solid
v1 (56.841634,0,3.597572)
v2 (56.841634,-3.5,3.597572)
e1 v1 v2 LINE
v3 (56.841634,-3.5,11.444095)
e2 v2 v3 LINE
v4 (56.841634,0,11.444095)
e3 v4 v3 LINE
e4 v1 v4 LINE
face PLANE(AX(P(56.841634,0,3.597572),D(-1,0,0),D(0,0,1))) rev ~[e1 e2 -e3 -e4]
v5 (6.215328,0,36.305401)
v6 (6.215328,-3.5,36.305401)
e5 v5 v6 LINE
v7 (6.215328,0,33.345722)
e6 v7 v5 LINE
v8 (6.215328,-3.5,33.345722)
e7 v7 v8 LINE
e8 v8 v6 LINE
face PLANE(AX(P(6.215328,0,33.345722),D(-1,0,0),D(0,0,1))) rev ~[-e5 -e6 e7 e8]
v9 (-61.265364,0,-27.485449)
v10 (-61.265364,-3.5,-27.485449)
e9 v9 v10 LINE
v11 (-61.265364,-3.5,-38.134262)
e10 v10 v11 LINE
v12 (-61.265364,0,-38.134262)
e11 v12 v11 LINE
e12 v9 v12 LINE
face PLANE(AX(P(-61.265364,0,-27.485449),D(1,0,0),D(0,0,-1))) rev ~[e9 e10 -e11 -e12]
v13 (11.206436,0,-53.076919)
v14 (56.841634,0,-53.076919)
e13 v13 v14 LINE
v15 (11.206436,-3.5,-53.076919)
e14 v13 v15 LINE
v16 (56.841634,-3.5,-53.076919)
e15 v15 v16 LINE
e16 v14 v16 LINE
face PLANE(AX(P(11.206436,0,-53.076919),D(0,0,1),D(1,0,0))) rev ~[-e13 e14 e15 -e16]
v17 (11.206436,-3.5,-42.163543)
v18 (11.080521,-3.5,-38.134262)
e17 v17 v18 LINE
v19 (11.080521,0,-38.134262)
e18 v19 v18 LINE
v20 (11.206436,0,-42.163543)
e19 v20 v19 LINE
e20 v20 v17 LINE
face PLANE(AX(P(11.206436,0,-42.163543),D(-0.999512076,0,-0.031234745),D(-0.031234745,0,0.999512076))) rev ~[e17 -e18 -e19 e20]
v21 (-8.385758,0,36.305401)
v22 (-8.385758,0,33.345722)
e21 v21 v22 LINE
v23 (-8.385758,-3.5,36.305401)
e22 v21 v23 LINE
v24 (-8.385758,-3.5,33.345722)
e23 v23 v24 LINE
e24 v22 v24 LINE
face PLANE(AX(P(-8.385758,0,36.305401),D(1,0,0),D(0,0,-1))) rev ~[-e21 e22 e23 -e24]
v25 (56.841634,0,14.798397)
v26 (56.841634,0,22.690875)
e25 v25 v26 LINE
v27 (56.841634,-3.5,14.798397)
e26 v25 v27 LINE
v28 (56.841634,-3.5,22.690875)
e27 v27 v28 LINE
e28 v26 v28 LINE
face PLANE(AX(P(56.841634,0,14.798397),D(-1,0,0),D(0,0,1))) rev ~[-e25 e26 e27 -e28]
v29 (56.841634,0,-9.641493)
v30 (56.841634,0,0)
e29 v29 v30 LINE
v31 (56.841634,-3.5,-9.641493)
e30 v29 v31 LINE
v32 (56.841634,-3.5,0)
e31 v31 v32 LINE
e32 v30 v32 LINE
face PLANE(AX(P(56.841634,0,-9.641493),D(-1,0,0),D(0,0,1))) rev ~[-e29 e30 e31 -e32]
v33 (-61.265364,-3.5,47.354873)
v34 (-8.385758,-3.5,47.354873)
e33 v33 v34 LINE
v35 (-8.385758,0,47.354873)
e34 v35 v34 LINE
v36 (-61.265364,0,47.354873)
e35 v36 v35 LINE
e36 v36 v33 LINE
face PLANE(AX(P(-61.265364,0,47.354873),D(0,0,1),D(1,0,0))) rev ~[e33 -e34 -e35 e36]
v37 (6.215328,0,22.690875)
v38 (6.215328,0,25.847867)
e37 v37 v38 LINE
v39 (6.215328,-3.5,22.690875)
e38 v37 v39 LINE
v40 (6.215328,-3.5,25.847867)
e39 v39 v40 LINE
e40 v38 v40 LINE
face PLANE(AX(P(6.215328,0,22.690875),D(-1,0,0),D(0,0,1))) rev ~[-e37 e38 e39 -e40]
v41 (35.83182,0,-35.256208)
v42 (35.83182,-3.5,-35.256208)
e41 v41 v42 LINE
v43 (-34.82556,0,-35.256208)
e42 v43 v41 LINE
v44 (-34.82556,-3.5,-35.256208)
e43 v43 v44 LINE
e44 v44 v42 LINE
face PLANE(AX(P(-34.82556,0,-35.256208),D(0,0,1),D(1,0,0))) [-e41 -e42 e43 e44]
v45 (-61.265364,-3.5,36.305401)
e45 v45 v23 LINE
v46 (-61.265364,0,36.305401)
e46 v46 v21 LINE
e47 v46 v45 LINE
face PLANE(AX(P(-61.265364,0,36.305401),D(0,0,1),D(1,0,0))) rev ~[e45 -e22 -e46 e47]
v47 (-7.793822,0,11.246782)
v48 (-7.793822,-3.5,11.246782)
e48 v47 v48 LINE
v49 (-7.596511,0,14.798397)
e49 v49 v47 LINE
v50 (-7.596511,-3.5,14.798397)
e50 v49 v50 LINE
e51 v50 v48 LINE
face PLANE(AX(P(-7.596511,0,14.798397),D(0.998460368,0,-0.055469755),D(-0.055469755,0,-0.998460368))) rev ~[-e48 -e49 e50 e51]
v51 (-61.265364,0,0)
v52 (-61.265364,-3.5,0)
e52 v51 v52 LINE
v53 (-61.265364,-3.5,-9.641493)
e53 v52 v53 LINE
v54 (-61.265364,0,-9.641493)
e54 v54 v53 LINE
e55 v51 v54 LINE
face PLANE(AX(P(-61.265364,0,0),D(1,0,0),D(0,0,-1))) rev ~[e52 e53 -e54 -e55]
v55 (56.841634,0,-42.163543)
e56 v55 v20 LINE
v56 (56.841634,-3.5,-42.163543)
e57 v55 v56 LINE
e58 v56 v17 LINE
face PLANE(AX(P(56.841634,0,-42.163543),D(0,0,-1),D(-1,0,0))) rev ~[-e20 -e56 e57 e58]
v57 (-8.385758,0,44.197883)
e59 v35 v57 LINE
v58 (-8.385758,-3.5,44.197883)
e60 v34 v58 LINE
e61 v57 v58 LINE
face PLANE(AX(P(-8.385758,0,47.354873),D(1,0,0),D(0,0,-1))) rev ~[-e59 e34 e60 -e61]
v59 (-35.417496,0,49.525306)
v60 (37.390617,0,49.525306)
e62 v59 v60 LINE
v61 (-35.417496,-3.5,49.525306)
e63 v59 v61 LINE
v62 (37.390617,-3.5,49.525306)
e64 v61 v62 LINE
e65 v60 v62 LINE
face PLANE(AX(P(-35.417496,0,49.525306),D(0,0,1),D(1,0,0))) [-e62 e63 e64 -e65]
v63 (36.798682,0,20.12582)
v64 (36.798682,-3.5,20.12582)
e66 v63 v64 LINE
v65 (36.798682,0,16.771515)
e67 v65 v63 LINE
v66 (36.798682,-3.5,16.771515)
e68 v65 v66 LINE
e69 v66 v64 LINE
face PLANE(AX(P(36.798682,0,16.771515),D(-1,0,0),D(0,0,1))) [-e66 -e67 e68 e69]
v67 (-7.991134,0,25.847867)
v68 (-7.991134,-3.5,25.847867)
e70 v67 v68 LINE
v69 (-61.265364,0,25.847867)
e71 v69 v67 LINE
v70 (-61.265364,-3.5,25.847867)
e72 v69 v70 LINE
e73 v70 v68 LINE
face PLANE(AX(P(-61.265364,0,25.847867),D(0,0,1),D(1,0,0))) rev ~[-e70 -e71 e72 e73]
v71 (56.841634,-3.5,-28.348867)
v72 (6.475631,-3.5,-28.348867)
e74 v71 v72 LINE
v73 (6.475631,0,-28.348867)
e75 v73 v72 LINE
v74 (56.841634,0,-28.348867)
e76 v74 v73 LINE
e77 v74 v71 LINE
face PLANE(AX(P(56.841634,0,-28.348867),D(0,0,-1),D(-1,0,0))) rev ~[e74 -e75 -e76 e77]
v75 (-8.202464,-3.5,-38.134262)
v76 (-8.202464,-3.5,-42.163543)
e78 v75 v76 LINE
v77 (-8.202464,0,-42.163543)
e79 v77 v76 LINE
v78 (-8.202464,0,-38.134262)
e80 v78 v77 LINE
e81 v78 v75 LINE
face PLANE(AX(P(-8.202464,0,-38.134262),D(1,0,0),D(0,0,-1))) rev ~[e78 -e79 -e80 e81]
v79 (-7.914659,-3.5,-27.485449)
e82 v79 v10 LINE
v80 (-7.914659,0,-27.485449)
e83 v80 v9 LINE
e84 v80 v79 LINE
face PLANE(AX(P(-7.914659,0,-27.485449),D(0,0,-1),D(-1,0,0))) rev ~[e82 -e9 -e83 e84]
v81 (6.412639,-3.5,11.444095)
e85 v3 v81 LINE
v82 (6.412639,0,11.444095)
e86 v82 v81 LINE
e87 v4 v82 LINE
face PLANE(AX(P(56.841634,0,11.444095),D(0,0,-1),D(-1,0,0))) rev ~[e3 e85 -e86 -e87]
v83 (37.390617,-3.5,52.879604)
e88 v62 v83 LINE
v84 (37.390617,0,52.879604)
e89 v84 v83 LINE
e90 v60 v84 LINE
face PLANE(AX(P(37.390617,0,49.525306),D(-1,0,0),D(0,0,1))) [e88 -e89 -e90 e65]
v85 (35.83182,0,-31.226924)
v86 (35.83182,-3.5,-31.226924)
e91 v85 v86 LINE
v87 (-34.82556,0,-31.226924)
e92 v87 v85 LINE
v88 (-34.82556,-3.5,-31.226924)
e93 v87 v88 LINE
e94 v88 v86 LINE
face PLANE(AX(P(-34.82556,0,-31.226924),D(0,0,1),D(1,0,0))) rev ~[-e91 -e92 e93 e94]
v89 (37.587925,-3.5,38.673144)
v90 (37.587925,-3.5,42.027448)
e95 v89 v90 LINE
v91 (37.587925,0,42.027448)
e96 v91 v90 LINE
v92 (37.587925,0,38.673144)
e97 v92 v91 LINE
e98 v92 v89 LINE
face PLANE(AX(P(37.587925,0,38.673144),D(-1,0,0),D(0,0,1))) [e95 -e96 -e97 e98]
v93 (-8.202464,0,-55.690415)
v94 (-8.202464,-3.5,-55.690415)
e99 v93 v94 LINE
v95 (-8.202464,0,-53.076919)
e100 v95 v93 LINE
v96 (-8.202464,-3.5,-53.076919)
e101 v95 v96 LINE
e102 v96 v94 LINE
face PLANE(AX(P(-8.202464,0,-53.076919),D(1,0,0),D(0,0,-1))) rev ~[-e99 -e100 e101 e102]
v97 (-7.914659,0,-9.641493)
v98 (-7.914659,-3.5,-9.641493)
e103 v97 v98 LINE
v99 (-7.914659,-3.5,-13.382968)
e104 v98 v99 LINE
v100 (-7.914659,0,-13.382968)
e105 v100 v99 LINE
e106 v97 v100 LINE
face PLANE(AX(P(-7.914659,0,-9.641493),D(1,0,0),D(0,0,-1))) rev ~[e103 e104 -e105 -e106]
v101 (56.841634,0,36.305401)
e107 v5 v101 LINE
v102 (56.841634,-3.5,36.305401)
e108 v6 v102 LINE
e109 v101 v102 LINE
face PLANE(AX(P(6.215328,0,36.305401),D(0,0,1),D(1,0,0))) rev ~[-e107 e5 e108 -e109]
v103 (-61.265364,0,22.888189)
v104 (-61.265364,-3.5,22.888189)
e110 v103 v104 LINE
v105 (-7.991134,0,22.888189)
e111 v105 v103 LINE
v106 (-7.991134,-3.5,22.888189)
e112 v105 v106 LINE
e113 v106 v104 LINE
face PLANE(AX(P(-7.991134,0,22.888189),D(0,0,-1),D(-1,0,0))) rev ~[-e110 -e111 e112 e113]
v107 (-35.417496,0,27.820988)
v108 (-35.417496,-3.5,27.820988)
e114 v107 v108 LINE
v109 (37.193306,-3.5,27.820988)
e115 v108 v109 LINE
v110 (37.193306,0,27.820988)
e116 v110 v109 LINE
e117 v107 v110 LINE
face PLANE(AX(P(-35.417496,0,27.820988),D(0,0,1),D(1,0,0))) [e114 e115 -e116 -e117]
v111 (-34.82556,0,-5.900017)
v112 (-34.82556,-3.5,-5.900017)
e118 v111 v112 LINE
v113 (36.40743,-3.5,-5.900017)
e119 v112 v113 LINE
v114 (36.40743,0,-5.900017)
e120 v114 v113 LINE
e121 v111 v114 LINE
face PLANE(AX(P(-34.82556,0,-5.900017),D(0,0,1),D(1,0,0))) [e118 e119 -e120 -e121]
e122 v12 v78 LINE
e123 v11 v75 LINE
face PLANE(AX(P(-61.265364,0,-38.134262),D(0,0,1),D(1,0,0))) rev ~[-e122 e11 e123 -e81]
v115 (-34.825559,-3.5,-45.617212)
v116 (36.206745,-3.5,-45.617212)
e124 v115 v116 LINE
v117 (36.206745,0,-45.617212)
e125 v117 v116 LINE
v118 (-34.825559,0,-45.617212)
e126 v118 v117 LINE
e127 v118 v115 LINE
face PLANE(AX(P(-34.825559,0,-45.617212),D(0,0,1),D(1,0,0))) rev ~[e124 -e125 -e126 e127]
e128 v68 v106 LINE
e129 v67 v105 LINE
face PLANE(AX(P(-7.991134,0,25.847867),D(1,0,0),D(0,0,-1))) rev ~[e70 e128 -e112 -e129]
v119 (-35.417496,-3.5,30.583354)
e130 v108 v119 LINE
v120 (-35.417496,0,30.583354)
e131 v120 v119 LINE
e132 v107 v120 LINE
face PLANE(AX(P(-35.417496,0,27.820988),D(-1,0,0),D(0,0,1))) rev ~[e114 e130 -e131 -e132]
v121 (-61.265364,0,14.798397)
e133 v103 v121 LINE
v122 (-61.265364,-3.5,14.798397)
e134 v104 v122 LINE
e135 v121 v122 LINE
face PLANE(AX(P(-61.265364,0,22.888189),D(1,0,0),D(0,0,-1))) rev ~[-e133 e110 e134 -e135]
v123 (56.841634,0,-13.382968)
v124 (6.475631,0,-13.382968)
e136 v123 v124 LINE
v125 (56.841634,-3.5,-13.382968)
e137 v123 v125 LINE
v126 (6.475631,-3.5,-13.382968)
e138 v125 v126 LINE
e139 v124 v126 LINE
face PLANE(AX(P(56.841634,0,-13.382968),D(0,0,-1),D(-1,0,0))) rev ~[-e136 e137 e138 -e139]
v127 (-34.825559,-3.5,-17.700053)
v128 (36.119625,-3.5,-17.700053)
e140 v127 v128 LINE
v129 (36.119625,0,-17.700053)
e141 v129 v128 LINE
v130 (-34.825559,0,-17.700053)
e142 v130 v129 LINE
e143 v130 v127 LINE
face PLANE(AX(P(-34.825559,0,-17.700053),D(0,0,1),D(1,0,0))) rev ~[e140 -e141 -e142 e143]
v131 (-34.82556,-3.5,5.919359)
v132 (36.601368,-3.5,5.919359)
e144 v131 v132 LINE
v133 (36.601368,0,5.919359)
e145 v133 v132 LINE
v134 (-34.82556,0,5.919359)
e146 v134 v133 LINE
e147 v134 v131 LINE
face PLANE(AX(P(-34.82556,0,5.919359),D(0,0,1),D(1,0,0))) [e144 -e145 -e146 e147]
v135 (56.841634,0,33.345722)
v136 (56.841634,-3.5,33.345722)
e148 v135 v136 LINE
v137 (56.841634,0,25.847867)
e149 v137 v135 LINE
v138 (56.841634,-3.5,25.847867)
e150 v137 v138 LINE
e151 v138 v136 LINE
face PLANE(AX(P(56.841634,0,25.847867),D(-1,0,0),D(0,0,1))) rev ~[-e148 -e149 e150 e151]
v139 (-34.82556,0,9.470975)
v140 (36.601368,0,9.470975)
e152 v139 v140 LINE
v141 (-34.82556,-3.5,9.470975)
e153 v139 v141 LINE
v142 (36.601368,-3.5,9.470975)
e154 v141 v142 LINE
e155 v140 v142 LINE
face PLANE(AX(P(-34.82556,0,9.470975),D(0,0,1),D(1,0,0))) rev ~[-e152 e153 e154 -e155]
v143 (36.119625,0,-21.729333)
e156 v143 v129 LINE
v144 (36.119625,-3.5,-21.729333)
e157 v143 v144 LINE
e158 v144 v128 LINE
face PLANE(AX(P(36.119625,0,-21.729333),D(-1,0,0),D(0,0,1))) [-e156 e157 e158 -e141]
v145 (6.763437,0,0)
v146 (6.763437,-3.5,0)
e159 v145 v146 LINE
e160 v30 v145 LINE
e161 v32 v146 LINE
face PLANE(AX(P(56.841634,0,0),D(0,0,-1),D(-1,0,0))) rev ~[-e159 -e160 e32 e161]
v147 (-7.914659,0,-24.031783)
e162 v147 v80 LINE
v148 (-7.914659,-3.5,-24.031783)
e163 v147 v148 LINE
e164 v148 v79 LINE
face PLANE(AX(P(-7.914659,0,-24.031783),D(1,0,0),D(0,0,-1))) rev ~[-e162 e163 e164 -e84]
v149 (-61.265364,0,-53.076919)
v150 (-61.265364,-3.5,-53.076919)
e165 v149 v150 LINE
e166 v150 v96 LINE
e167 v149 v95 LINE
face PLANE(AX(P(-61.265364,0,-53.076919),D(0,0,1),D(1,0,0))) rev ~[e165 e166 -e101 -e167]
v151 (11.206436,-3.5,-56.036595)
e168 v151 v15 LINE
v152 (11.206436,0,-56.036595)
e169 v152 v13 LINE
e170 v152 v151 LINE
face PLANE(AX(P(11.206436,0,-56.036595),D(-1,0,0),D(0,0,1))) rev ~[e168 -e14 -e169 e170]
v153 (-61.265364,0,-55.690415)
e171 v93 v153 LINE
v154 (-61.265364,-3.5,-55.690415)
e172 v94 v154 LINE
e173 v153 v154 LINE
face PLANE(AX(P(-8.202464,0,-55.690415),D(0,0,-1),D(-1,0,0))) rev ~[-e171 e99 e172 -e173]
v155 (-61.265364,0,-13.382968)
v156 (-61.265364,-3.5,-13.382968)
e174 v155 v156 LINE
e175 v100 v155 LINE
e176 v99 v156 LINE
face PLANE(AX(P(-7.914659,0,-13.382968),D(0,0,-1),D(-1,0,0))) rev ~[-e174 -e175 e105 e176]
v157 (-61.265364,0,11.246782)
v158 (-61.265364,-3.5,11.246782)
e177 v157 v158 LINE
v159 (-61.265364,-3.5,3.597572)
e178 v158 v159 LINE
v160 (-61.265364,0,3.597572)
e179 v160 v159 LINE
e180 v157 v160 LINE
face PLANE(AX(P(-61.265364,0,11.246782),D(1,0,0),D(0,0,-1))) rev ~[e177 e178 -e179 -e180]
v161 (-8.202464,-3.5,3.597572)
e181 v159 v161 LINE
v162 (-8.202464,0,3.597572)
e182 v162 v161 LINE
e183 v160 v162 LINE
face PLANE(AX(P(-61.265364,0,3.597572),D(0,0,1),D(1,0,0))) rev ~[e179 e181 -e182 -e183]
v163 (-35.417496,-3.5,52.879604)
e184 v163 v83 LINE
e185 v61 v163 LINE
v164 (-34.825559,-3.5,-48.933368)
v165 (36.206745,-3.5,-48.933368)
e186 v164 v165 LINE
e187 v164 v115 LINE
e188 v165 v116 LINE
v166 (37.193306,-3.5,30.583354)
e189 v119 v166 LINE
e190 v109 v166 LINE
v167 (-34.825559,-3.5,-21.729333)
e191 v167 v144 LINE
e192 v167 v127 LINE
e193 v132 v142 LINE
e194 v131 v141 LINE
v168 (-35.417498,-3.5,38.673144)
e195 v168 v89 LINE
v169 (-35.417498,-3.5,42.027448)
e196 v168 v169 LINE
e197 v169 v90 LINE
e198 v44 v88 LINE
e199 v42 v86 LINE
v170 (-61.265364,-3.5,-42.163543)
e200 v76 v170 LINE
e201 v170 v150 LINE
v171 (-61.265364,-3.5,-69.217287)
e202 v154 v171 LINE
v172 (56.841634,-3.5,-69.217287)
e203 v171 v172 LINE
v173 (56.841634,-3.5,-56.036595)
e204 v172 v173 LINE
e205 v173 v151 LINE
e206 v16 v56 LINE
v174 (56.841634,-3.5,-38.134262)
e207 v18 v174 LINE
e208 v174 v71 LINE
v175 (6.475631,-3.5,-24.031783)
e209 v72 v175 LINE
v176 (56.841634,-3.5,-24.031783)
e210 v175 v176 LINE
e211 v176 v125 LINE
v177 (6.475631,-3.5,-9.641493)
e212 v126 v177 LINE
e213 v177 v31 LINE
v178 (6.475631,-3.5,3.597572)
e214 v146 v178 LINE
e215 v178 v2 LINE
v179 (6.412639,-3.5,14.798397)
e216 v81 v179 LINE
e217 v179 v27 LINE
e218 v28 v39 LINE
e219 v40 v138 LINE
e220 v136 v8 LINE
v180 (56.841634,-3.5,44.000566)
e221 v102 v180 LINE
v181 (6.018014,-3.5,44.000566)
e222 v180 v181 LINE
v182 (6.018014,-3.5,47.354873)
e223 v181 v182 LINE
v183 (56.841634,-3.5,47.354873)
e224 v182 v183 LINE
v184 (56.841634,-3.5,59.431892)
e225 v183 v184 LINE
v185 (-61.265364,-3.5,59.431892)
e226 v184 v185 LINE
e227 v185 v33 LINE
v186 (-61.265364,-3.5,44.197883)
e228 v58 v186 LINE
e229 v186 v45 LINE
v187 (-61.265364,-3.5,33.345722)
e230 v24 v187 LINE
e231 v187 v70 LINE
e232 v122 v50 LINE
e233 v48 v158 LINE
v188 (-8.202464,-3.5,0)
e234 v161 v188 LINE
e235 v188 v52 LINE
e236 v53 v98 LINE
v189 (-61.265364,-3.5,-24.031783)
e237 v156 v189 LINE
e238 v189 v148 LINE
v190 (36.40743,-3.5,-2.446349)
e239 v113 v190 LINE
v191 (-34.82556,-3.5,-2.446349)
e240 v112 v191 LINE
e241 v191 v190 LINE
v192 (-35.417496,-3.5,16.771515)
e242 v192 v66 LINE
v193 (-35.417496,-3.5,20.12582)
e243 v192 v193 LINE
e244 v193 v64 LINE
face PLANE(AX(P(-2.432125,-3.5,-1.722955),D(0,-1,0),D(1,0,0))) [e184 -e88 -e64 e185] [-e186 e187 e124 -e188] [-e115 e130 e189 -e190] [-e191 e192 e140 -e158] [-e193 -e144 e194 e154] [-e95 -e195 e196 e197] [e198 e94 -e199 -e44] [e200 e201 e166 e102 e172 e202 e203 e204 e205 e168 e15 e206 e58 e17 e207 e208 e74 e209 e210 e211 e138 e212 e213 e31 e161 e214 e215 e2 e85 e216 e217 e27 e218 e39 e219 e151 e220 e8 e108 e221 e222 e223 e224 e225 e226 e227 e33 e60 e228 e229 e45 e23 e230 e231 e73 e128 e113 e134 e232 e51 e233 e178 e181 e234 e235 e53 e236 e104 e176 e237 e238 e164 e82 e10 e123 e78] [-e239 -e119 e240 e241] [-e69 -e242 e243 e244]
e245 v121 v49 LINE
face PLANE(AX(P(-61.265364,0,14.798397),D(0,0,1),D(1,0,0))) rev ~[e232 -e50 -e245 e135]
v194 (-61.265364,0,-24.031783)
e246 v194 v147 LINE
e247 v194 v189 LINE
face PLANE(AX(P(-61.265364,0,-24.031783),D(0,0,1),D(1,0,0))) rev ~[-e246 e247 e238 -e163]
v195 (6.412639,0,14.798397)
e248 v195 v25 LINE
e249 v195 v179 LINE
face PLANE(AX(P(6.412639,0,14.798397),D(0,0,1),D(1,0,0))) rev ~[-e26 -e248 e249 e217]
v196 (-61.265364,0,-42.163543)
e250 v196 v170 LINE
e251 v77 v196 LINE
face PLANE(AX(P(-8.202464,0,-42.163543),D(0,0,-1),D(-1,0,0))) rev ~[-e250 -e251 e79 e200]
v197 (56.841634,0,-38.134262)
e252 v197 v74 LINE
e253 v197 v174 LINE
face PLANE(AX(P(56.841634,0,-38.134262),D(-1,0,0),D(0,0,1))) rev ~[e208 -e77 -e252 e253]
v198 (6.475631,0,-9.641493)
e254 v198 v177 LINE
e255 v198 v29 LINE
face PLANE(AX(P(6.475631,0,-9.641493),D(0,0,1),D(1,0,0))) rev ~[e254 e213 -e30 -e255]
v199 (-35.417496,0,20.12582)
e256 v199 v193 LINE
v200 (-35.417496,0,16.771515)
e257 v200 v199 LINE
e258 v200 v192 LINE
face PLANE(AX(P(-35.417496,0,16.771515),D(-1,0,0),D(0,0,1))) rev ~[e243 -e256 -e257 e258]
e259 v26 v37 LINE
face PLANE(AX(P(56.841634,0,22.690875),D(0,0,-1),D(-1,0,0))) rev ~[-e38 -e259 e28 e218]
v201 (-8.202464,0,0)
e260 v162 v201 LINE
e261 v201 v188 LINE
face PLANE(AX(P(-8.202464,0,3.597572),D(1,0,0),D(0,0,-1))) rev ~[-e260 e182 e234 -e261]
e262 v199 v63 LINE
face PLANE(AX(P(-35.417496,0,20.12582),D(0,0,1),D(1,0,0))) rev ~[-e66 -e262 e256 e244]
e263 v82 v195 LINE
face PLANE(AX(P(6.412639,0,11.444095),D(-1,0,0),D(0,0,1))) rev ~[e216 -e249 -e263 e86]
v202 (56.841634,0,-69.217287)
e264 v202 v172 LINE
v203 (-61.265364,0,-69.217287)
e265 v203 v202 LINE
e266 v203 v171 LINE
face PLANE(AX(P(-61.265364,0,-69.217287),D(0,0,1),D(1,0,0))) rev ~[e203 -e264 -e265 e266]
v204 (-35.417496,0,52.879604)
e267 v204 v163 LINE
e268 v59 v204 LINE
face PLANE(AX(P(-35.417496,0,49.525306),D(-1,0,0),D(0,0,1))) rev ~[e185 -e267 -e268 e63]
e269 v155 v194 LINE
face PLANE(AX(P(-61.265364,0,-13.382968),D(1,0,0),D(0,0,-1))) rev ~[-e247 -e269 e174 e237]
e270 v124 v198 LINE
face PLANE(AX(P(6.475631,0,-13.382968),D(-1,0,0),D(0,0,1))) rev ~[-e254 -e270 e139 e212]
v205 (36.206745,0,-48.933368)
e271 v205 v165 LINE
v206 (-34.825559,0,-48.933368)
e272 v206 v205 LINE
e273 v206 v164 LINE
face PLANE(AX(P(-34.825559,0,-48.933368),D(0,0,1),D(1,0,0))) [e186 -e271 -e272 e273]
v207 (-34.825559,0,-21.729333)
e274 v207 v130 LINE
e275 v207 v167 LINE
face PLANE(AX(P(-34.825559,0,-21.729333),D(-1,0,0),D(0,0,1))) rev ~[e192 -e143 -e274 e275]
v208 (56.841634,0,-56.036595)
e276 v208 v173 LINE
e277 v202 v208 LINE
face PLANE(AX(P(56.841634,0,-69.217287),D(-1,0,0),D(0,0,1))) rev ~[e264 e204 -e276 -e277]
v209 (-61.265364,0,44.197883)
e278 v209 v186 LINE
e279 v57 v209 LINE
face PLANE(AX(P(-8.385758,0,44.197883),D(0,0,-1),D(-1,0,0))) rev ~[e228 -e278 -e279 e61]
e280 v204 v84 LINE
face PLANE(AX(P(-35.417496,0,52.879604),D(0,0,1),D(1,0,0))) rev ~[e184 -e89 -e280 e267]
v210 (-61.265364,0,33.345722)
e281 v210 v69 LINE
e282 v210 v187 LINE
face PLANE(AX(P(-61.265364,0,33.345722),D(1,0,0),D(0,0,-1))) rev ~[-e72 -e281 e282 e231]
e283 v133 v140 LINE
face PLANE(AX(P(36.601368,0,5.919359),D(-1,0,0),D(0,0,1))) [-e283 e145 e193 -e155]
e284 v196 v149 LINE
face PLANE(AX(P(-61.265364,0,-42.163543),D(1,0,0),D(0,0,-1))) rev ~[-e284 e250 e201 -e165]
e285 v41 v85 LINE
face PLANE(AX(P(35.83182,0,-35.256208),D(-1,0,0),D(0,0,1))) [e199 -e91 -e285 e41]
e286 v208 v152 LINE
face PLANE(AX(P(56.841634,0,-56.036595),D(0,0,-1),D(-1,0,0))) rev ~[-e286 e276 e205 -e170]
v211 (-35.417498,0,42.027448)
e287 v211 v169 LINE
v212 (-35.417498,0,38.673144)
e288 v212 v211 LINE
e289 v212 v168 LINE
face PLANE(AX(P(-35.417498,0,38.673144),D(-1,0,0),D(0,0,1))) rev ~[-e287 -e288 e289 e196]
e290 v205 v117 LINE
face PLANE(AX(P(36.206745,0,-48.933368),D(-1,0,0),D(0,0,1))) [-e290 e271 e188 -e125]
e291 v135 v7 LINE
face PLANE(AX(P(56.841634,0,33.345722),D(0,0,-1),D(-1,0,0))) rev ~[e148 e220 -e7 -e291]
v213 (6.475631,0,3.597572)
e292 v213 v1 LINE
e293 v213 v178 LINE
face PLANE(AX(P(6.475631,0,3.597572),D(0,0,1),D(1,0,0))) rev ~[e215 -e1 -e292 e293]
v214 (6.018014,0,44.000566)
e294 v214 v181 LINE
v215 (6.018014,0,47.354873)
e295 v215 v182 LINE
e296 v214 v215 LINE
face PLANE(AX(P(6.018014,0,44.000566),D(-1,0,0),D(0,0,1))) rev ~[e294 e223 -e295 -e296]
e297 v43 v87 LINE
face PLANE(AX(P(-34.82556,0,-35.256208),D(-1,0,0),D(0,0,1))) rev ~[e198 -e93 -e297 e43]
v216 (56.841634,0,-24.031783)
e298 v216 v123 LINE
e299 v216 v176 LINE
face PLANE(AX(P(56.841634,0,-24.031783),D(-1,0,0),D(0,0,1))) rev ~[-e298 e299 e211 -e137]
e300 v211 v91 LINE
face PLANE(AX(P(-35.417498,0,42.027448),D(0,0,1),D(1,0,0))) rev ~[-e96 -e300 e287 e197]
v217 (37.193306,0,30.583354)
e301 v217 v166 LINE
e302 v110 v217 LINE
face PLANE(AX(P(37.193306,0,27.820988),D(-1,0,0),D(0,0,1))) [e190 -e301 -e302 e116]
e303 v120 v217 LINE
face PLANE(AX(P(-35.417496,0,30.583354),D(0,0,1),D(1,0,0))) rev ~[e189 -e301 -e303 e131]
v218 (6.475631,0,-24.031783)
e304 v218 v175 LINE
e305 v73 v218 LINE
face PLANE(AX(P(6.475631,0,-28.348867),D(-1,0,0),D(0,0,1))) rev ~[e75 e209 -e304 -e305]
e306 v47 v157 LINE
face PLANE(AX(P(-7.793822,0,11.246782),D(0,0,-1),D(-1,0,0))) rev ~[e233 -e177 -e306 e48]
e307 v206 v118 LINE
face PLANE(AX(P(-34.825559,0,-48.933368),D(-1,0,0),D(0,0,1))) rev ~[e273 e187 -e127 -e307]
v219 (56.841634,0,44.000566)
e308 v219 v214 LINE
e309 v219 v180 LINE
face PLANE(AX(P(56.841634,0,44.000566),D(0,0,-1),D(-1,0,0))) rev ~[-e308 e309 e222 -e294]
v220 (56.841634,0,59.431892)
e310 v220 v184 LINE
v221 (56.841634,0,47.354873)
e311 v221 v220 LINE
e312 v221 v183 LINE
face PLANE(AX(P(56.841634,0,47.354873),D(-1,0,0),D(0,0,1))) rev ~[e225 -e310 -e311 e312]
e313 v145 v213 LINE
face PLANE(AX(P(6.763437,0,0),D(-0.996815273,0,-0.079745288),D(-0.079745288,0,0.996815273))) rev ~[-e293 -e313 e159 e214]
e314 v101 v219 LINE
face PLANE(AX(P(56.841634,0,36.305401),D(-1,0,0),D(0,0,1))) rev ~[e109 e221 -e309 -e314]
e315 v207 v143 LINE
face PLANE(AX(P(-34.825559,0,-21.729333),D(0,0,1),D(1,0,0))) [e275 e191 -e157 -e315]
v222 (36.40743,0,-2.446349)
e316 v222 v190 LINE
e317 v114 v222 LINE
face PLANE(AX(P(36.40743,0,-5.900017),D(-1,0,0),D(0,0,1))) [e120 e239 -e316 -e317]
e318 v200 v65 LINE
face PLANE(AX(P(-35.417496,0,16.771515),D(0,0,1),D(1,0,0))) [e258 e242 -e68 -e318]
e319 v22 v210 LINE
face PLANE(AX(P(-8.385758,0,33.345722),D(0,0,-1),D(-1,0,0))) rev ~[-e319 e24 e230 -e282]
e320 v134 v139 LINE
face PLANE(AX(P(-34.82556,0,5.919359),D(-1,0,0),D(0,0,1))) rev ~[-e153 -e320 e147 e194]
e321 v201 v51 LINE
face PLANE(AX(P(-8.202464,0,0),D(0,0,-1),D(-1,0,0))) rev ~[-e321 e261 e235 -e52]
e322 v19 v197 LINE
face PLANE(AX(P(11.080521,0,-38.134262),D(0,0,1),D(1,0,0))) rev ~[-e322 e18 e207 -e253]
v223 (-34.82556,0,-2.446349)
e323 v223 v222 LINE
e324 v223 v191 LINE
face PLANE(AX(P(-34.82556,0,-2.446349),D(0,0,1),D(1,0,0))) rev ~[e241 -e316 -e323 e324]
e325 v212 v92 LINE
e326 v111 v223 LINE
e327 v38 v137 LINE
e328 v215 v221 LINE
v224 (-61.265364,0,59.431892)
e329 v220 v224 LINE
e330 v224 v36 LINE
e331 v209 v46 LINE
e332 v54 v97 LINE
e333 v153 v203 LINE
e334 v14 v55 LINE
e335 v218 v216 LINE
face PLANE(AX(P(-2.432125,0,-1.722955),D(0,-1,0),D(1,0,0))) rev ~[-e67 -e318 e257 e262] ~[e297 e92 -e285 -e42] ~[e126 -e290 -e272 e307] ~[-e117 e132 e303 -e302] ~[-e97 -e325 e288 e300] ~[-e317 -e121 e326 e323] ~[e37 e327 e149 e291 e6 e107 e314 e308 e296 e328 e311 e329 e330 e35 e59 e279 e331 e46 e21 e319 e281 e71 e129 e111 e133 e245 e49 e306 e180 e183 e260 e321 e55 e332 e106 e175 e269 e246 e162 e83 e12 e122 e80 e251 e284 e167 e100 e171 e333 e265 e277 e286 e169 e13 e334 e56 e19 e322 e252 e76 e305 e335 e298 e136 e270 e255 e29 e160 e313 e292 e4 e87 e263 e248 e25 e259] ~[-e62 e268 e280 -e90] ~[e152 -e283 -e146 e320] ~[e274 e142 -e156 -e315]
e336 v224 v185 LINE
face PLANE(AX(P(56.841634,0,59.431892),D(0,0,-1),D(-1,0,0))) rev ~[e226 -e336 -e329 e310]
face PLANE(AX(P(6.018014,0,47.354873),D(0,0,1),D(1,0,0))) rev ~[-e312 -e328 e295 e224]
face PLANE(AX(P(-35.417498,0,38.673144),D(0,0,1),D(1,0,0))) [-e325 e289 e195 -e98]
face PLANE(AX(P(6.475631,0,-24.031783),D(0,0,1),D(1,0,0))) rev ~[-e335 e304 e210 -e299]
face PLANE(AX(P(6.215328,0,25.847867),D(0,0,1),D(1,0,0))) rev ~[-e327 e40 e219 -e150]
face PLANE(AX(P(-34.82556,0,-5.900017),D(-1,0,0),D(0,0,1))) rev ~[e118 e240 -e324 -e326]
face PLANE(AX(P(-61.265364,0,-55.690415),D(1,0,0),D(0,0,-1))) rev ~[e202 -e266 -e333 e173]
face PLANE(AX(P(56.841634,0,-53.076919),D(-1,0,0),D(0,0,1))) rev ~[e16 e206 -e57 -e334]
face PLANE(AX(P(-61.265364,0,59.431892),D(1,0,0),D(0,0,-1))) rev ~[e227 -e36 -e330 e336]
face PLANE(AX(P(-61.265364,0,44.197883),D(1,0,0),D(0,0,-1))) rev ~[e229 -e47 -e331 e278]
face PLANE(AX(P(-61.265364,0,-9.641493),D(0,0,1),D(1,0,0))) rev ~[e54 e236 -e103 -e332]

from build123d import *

# Parameters (mm, degrees)
F0_W     = 71.032305
F0_H     = 3.316156
F0_W_2   = 70.65738
F0_H_2   = 4.029283
F0_W_3   = 70.945185
F0_H_3   = 4.029279
F0_W_4   = 71.23299
F0_H_4   = 3.453669
F0_W_5   = 71.426928
F0_H_5   = 3.551615
F0_W_6   = 72.216179
F0_H_6   = 3.354305
F0_W_7   = 72.610803
F0_H_7   = 2.762366
F0_W_8   = 73.005423
F0_H_8   = 3.354303
F0_W_9   = 72.808113
F0_H_9   = 3.354299
F1_DEPTH = 3.5


with BuildPart() as f1:
    # F0 (on Front) → F1 (new body)
    with BuildSketch(Plane.XZ):
        Polygon((56.841634, 59.431892), (-61.265364, 59.431892), (-61.265364, 47.354873), (-8.385758, 47.354873), (-8.385758, 44.197883), (-61.265364, 44.197883), (-61.265364, 36.305401), (-8.385758, 36.305401), (-8.385758, 33.345722), (-61.265364, 33.345722), (-61.265364, 25.847867), (-7.991134, 25.847867), (-7.991134, 22.888189), (-61.265364, 22.888189), (-61.265364, 14.798397), (-7.596511, 14.798397), (-7.793822, 11.246782), (-61.265364, 11.246782), (-61.265364, 3.597572), (-8.202464, 3.597572), (-8.202464, 0), (-61.265364, 0), (-61.265364, -9.641493), (-7.914659, -9.641493), (-7.914659, -13.382968), (-61.265364, -13.382968), (-61.265364, -24.031783), (-7.914659, -24.031783), (-7.914659, -27.485449), (-61.265364, -27.485449), (-61.265364, -38.134262), (-8.202464, -38.134262), (-8.202464, -42.163543), (-61.265364, -42.163543), (-61.265364, -53.076919), (-8.202464, -53.076919), (-8.202464, -55.690415), (-61.265364, -55.690415), (-61.265364, -69.217287), (56.841634, -69.217287), (56.841634, -56.036595), (11.206436, -56.036595), (11.206436, -53.076919), (56.841634, -53.076919), (56.841634, -42.163543), (11.206436, -42.163543), (11.080521, -38.134262), (56.841634, -38.134262), (56.841634, -28.348867), (6.475631, -28.348867), (6.475631, -24.031783), (56.841634, -24.031783), (56.841634, -13.382968), (6.475631, -13.382968), (6.475631, -9.641493), (56.841634, -9.641493), (56.841634, 0), (6.763437, 0), (6.475631, 3.597572), (56.841634, 3.597572), (56.841634, 11.444095), (6.412639, 11.444095), (6.412639, 14.798397), (56.841634, 14.798397), (56.841634, 22.690875), (6.215328, 22.690875), (6.215328, 25.847867), (56.841634, 25.847867), (56.841634, 33.345722), (6.215328, 33.345722), (6.215328, 36.305401), (56.841634, 36.305401), (56.841634, 44.000566), (6.018014, 44.000566), (6.018014, 47.354873), (56.841634, 47.354873), align=None)
        with Locations((0.690593, -47.27529)):
            Rectangle(F0_W, F0_H, mode=Mode.SUBTRACT)
        with Locations((0.50313, -33.241566)):
            Rectangle(F0_W_2, F0_H_2, mode=Mode.SUBTRACT)
        with Locations((0.647033, -19.714693)):
            Rectangle(F0_W_3, F0_H_3, mode=Mode.SUBTRACT)
        with Locations((0.790935, -4.173183)):
            Rectangle(F0_W_4, F0_H_4, mode=Mode.SUBTRACT)
        with Locations((0.887904, 7.695167)):
            Rectangle(F0_W_5, F0_H_5, mode=Mode.SUBTRACT)
        with Locations((0.690593, 18.448668)):
            Rectangle(F0_W_6, F0_H_6, mode=Mode.SUBTRACT)
        with Locations((0.887905, 29.202171)):
            Rectangle(F0_W_7, F0_H_7, mode=Mode.SUBTRACT)
        with Locations((1.085214, 40.350296)):
            Rectangle(F0_W_8, F0_H_8, mode=Mode.SUBTRACT)
        with Locations((0.98656, 51.202455)):
            Rectangle(F0_W_9, F0_H_9, mode=Mode.SUBTRACT)
    extrude(amount=F1_DEPTH)


solid = f1.part
